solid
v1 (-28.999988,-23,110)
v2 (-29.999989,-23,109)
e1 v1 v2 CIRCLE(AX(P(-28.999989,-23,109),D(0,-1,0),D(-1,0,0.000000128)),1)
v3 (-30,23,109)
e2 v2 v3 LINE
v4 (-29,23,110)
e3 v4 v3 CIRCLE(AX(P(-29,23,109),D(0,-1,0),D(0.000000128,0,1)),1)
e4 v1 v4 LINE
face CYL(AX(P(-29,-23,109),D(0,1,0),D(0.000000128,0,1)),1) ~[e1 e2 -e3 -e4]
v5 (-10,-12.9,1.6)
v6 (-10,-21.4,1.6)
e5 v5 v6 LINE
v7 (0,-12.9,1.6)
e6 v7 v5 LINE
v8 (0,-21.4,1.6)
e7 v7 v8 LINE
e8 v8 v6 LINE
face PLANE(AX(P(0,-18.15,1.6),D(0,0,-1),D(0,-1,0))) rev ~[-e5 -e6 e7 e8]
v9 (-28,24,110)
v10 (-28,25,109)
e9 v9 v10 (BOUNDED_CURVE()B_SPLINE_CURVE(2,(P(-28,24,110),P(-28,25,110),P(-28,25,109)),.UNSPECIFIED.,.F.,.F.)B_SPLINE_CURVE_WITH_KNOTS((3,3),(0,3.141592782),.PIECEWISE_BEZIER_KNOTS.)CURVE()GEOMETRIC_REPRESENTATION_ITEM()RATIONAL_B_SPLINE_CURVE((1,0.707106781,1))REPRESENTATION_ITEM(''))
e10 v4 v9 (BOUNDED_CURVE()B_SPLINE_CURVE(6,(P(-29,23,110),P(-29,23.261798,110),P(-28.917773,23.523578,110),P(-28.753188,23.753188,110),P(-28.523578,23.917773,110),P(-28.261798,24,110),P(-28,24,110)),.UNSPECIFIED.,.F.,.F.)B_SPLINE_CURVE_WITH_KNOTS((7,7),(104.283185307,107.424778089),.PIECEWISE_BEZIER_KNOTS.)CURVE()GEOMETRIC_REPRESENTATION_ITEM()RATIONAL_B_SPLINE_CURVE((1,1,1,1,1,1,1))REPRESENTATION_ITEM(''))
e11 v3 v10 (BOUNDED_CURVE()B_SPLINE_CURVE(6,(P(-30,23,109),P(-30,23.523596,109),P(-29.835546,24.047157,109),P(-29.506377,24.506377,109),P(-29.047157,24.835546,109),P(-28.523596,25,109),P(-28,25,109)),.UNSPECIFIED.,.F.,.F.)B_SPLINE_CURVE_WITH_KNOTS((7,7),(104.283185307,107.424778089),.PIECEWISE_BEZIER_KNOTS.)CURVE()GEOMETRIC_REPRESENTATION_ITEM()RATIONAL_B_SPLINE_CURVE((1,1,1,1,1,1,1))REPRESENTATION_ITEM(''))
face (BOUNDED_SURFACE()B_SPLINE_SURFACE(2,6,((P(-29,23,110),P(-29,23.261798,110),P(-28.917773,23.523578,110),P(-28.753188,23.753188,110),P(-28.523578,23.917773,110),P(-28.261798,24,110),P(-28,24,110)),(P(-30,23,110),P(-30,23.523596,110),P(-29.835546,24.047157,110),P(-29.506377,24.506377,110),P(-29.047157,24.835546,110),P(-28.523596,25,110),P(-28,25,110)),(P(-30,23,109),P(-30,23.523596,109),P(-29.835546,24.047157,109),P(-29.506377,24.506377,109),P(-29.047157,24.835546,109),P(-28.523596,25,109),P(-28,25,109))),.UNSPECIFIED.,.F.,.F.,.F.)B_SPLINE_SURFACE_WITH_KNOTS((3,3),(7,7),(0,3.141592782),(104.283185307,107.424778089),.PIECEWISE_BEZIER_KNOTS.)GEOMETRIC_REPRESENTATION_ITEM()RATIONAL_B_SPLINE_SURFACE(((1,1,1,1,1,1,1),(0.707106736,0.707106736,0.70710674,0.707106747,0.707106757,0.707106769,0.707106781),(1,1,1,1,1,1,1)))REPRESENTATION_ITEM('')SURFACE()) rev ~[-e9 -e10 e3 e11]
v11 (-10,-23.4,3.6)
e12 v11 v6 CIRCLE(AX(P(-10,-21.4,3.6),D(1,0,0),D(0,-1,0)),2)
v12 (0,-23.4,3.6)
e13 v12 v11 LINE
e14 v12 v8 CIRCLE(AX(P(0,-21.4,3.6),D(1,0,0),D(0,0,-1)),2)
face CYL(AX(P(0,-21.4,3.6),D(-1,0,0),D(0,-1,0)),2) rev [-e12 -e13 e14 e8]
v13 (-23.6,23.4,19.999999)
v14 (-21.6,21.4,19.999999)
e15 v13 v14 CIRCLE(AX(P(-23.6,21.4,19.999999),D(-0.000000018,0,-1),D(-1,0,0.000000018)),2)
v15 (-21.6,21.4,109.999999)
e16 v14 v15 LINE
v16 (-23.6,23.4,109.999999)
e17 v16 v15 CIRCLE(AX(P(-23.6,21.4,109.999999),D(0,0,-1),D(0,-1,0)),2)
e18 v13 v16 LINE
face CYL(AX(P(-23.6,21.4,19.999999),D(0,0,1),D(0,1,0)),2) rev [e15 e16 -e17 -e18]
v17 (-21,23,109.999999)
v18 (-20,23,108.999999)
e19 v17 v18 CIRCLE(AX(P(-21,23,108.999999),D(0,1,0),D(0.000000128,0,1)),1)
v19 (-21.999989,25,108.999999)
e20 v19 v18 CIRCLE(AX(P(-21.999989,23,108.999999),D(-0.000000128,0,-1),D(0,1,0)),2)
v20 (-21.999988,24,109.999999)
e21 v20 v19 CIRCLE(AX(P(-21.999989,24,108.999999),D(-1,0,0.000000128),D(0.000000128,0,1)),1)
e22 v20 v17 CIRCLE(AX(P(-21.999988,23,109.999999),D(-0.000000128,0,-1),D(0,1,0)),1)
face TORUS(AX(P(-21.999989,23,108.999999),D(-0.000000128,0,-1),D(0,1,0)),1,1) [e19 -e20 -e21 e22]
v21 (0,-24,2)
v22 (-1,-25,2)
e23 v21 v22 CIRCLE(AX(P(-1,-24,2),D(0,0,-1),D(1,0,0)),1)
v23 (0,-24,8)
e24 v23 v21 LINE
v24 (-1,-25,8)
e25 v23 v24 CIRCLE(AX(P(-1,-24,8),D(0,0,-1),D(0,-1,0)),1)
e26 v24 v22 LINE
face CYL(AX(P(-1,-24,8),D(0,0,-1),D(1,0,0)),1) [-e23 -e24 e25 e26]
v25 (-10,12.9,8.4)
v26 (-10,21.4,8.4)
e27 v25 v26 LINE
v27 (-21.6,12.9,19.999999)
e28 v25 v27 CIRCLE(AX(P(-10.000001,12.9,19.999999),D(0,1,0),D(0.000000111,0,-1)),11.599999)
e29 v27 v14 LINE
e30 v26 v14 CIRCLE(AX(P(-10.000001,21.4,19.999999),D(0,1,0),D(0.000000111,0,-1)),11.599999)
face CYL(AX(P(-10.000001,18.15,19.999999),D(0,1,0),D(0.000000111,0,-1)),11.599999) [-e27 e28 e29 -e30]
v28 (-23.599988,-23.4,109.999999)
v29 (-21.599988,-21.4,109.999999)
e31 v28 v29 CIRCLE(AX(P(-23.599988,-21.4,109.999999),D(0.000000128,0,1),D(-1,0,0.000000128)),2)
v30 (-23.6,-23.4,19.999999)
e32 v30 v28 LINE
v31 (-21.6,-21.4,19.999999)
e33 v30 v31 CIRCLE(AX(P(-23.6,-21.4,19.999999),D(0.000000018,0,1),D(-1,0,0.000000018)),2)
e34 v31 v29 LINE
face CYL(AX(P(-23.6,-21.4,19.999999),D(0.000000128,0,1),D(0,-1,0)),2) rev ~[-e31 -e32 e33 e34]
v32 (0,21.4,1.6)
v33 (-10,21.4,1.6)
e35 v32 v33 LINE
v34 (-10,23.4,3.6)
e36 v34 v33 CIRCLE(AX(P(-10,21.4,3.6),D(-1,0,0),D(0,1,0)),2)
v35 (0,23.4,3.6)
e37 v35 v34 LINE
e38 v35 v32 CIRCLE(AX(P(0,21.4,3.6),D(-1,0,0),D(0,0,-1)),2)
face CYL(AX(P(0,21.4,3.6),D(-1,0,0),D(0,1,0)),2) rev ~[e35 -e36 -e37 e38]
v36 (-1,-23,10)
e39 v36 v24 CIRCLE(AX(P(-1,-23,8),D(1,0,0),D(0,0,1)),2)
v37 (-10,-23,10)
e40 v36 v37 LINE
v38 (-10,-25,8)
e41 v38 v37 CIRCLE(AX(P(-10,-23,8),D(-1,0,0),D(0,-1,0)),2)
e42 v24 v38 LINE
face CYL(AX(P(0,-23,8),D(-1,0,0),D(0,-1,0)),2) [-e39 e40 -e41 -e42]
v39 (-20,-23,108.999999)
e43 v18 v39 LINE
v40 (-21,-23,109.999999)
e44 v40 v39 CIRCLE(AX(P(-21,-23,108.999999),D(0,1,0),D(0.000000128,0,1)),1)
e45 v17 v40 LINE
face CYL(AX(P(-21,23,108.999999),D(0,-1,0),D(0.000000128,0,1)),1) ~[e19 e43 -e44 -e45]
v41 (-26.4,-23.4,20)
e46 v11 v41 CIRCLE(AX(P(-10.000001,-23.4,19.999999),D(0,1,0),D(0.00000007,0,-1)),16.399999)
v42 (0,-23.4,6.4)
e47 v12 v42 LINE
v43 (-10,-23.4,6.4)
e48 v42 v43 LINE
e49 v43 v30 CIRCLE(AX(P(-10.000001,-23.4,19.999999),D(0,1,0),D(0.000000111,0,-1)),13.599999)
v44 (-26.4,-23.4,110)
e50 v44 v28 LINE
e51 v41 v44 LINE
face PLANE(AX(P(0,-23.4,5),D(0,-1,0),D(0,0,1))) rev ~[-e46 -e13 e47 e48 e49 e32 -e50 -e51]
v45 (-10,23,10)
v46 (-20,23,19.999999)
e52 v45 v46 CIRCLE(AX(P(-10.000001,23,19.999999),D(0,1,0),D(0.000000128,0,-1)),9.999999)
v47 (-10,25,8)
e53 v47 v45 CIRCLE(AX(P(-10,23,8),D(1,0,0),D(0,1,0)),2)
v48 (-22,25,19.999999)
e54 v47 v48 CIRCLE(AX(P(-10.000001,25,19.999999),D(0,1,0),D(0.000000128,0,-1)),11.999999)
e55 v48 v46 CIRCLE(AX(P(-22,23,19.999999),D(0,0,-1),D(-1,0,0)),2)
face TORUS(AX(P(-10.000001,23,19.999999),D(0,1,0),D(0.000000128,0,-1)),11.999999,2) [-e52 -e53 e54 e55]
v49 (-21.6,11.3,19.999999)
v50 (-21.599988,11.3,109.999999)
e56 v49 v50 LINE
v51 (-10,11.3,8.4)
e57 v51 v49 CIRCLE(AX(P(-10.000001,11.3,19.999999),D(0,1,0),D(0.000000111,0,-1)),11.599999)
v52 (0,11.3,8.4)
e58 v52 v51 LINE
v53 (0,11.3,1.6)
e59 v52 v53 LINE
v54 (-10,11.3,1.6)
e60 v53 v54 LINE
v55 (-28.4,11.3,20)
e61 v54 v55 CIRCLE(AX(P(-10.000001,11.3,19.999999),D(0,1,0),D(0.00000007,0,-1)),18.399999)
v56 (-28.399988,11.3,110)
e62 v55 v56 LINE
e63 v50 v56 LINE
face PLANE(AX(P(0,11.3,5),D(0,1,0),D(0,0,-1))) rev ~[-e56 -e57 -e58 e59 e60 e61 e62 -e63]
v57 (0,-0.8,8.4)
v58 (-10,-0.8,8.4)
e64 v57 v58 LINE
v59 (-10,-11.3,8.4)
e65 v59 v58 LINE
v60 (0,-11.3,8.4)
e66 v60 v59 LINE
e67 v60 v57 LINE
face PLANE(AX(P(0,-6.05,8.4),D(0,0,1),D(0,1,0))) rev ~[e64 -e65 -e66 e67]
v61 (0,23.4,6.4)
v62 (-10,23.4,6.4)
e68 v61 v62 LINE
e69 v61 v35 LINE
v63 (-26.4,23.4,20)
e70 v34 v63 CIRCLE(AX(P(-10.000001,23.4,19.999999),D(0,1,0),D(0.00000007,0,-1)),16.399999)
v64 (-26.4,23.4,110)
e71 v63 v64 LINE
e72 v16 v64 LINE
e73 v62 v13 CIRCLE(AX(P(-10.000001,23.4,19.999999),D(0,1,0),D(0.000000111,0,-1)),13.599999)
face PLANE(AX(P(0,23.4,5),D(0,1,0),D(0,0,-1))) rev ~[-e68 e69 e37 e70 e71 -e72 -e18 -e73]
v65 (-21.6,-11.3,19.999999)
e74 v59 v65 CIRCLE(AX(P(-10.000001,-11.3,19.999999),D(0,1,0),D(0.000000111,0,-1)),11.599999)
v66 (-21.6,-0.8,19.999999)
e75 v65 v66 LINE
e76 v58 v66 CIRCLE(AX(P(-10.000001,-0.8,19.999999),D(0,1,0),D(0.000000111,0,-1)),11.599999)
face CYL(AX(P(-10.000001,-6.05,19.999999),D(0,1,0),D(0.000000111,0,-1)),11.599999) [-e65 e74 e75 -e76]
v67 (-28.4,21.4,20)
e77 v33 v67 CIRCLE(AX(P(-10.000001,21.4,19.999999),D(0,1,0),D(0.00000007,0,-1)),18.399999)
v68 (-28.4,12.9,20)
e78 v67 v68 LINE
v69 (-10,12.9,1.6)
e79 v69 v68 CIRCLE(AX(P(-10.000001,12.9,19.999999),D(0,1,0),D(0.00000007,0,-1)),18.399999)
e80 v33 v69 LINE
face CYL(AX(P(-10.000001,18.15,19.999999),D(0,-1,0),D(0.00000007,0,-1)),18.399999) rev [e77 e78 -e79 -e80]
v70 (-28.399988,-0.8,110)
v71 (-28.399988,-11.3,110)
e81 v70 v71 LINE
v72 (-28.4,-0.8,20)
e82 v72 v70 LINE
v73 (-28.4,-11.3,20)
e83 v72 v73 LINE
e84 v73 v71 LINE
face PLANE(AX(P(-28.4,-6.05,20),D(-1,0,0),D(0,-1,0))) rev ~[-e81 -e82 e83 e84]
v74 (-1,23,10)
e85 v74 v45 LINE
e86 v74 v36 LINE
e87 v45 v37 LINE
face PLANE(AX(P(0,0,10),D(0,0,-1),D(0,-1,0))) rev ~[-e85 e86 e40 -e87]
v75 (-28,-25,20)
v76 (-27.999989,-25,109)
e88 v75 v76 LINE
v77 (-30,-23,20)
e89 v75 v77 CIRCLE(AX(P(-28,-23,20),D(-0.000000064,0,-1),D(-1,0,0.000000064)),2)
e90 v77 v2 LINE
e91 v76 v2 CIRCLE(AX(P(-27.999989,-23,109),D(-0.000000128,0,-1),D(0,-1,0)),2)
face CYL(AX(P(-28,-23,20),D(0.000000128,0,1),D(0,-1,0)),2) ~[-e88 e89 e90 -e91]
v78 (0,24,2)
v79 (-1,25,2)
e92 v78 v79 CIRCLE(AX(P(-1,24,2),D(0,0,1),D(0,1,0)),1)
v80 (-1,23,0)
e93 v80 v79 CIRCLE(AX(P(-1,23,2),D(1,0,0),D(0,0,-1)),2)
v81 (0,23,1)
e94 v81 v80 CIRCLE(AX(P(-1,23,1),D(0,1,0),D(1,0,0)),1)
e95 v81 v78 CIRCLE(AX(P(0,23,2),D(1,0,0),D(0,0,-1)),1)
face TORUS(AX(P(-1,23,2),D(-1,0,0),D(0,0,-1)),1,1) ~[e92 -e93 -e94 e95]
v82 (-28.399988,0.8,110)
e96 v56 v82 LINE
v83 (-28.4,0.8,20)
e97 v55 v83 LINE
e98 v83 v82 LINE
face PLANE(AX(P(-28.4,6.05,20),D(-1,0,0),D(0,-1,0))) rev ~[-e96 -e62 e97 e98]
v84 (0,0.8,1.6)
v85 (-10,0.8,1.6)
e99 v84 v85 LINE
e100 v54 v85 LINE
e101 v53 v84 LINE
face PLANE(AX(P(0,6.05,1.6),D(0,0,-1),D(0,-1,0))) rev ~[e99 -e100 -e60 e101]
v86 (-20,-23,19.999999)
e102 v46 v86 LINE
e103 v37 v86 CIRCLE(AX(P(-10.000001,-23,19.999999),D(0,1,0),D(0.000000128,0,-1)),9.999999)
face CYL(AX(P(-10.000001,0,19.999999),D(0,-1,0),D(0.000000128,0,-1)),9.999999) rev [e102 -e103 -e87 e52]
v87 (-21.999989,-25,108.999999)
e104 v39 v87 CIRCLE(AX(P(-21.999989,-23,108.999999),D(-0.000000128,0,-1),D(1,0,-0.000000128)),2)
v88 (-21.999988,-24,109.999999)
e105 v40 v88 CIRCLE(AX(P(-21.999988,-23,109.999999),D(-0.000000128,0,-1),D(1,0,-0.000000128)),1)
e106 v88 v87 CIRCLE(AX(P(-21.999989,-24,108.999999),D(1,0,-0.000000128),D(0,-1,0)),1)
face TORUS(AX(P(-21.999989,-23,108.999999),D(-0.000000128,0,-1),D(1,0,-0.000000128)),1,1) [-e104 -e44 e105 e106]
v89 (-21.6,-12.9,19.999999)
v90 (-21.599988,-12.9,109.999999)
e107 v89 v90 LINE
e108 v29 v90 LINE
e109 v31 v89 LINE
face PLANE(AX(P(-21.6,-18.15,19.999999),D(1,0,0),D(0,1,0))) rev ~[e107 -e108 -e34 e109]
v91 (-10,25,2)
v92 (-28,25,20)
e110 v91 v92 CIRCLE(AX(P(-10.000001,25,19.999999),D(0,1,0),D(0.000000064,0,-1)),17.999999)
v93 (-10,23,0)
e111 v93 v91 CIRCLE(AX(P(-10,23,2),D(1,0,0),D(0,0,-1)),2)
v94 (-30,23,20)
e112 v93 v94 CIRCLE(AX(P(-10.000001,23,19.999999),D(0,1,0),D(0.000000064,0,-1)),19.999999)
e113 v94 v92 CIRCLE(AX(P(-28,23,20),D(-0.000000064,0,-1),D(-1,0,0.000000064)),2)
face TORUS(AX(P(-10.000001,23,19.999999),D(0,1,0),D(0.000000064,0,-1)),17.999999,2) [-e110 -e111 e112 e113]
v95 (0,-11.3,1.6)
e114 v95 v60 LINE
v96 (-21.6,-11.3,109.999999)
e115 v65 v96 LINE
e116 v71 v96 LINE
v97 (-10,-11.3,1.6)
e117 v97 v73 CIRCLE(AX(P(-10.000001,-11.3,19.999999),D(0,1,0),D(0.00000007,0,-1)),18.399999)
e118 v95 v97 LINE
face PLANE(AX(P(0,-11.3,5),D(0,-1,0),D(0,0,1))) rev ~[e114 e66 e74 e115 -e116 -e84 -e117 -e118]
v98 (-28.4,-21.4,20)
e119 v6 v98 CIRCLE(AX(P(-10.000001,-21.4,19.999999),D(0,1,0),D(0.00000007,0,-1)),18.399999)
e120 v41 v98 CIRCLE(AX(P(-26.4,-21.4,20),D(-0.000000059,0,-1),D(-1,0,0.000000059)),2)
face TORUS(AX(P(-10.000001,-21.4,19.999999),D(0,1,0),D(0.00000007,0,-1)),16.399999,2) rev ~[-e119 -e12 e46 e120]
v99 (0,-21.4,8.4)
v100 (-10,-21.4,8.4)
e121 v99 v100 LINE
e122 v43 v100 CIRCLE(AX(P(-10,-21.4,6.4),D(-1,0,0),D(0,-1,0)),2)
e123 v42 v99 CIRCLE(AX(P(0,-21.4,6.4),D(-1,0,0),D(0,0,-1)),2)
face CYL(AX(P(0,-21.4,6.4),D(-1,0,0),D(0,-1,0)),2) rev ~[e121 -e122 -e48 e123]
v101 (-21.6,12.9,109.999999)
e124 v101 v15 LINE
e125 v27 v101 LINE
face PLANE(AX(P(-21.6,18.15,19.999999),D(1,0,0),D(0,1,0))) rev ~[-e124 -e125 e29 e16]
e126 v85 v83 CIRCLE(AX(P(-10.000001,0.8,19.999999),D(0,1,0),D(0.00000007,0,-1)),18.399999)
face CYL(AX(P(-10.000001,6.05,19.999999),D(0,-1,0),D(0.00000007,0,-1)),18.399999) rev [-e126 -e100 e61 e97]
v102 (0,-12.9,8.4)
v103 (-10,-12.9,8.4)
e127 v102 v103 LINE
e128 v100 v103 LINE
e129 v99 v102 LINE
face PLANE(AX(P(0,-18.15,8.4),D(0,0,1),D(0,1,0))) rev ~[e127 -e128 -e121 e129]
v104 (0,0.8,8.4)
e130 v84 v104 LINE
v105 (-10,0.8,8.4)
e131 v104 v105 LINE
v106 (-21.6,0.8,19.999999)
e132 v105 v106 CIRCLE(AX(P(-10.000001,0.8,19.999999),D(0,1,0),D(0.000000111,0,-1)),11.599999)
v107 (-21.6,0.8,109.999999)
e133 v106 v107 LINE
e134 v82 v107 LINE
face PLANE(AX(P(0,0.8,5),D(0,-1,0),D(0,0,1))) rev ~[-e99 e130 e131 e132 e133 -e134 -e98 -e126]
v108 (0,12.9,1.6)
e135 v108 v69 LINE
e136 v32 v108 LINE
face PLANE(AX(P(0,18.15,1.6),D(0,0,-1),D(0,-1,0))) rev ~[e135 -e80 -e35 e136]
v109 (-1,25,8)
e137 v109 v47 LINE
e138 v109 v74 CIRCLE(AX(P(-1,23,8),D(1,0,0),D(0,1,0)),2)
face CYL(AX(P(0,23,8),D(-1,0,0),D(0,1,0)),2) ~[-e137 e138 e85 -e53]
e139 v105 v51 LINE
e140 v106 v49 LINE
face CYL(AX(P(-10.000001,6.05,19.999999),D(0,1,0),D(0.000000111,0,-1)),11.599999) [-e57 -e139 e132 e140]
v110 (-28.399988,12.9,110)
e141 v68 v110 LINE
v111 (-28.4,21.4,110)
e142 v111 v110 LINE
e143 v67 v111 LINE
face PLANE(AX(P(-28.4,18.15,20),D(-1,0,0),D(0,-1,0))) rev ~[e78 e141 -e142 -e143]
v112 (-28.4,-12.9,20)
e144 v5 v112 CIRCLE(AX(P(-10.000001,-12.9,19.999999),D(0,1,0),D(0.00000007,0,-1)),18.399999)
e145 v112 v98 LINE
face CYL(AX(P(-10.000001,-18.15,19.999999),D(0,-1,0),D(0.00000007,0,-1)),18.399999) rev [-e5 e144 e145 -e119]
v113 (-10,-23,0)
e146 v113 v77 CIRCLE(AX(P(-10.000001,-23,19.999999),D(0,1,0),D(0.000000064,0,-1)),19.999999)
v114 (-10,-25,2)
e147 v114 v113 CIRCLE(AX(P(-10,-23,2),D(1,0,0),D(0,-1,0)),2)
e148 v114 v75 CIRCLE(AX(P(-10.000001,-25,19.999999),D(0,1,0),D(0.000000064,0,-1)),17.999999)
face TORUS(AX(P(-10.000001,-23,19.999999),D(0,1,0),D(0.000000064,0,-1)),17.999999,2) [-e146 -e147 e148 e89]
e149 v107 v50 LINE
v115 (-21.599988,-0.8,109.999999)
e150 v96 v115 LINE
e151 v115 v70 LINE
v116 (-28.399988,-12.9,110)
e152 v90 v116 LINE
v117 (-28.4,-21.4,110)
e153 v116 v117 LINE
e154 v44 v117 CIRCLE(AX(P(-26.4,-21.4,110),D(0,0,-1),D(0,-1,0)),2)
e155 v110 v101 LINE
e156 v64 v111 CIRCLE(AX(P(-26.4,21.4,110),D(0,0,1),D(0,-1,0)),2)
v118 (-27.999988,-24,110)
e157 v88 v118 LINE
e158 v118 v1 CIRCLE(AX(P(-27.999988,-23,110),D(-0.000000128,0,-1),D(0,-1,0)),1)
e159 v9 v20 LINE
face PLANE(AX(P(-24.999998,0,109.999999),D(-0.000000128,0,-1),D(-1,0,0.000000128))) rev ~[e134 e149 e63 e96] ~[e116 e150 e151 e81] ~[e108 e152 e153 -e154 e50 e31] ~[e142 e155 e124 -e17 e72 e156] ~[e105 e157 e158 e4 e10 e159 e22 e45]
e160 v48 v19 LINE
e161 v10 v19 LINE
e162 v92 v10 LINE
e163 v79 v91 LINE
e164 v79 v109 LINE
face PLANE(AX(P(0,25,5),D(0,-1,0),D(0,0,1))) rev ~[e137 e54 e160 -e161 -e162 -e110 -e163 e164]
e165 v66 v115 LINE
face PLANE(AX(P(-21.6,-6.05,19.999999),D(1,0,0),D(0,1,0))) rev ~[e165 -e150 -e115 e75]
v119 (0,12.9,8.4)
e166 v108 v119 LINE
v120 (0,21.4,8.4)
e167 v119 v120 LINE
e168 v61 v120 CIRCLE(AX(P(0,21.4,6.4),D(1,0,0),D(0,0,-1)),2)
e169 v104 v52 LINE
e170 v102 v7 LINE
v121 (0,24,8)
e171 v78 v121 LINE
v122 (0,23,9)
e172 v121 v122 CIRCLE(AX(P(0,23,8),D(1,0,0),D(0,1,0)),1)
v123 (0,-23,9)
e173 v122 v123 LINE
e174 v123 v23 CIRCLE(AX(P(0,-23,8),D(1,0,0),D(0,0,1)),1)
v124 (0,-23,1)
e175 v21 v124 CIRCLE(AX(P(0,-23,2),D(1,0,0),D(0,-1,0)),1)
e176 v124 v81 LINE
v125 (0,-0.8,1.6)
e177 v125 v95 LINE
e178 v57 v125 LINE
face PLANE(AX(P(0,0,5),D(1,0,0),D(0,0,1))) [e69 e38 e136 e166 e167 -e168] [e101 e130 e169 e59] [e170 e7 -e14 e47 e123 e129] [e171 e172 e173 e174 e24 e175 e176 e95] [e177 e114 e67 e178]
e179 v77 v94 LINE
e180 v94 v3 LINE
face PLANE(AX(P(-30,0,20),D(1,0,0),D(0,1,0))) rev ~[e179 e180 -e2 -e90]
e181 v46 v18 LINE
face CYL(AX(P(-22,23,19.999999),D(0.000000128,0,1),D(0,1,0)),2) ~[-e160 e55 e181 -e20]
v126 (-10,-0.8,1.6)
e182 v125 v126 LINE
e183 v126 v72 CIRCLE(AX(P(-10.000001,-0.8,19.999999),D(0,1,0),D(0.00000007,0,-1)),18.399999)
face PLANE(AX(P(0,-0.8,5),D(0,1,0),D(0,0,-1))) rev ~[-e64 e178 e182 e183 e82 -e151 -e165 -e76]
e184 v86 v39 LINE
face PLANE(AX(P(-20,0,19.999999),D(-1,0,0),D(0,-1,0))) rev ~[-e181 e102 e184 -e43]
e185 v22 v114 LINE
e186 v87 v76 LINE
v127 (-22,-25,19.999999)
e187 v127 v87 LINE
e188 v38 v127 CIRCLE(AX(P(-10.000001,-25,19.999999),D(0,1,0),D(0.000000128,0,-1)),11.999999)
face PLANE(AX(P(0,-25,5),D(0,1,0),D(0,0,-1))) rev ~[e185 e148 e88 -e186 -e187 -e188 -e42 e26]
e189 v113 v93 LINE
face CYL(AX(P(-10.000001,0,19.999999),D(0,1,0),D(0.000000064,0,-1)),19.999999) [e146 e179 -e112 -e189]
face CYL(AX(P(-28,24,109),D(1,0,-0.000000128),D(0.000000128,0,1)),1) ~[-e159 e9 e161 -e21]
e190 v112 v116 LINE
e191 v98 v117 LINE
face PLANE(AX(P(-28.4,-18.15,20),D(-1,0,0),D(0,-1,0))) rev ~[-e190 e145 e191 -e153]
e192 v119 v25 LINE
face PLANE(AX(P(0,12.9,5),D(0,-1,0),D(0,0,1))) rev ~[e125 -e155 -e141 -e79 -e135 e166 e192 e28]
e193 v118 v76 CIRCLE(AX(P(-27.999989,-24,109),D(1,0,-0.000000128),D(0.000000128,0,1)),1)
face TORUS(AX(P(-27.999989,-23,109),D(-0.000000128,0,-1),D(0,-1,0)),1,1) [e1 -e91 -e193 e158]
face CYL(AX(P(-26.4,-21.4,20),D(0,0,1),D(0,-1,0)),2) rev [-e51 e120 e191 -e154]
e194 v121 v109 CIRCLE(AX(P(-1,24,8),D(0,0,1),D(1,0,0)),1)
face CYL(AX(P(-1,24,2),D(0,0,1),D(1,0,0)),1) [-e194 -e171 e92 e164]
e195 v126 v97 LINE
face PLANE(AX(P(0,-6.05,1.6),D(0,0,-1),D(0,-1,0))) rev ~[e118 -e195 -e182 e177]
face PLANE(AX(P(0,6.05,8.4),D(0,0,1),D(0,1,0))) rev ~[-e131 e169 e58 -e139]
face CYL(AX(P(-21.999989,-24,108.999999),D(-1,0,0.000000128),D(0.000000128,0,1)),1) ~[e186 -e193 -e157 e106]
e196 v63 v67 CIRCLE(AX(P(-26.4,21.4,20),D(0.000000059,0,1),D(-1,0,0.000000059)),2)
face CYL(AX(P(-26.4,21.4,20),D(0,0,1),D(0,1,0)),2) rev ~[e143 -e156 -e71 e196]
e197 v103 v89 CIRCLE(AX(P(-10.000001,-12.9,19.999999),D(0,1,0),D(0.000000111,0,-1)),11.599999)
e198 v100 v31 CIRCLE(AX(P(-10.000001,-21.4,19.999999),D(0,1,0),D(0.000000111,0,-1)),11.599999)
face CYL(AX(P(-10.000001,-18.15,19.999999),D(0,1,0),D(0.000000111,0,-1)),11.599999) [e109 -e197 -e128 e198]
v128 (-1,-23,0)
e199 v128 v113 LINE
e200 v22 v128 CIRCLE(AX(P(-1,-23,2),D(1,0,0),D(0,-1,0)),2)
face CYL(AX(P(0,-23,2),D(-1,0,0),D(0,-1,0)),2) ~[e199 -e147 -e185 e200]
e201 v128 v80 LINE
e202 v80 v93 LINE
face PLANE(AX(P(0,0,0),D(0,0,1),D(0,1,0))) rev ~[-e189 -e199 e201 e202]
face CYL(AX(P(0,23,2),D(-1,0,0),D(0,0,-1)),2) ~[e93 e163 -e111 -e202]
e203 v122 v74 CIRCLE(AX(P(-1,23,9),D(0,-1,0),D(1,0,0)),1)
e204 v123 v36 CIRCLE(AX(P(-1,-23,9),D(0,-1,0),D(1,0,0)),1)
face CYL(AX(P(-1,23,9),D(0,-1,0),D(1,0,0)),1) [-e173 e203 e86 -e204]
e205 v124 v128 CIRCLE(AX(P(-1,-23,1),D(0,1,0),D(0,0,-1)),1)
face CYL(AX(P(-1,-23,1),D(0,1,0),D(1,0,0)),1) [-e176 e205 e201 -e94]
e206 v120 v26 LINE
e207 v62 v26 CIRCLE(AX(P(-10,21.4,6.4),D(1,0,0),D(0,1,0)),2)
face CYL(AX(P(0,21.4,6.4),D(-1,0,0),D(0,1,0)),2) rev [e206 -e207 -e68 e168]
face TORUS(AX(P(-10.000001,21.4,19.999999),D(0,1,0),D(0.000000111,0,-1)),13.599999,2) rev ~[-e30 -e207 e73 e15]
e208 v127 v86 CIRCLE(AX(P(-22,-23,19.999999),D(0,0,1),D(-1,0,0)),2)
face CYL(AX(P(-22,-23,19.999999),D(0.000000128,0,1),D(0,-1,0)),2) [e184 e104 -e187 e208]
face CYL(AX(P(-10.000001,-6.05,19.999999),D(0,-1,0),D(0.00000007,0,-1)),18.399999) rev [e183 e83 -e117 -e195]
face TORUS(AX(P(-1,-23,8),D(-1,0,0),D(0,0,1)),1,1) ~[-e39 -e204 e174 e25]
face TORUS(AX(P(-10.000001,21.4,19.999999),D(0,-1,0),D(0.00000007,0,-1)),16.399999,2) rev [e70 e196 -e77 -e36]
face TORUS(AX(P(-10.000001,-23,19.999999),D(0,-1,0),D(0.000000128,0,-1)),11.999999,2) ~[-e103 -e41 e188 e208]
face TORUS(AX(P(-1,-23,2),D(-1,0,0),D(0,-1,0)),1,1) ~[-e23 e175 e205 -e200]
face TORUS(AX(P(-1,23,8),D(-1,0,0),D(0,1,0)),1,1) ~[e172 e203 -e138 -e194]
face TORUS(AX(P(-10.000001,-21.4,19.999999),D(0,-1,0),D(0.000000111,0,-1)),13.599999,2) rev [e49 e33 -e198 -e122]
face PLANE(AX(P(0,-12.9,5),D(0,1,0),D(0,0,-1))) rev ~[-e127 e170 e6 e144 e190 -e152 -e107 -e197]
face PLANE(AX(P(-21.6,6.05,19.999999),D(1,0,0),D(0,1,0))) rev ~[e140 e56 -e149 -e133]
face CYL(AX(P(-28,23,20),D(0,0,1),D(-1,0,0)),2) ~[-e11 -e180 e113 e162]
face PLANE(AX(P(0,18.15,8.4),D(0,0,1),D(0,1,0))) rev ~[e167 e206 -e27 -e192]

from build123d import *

# Parameters (mm, degrees)
SKETCH_W    = 50
SKETCH_H    = 10
SKETCH_W_2  = 10.5
SKETCH_H_2  = 6.8
FILLET_R    = 2
FILLET001_R = 2
FILLET002_R = 2
FILLET003_R = 2
FILLET004_R = 1
FILLET005_R = 1


with BuildPart() as part:
    # AdditivePipe: sweep along a path in Sketch001
    with BuildLine(Plane.XZ) as additivepipe_path:
        Line((0, 0), (-10, 0))
        ThreePointArc((-10, 0), (-24.142136, 5.857864), (-30, 20))
        Line((-30, 20), (-30, 110))
    # Sketch → AdditivePipe (sweep)
    with BuildSketch(Plane.YZ):
        with Locations((0, 5)):
            Rectangle(SKETCH_W, SKETCH_H)
        with Locations((-18.15, 5)):
            Rectangle(SKETCH_W_2, SKETCH_H_2, mode=Mode.SUBTRACT)
        with Locations((-6.05, 5)):
            Rectangle(SKETCH_W_2, SKETCH_H_2, mode=Mode.SUBTRACT)
        with Locations((6.05, 5)):
            Rectangle(SKETCH_W_2, SKETCH_H_2, mode=Mode.SUBTRACT)
        with Locations((18.15, 5)):
            Rectangle(SKETCH_W_2, SKETCH_H_2, mode=Mode.SUBTRACT)
    sweep(path=additivepipe_path.line)

    # Fillet
    fillet_edges = [part.edges().sort_by_distance(p)[0] for p in [
        (-20, -25, 65),
        (-17.071068, -25, 12.928932),
        (-5, -25, 10),
        (-20, 25, 65),
        (-17.071068, 25, 12.928932),
        (-5, 25, 10),
    ]]
    fillet(fillet_edges, radius=FILLET_R)

    # Fillet001
    fillet001_edges = [part.edges().sort_by_distance(p)[0] for p in [
        (-5, 25, 0),
        (-24.142136, 25, 5.857864),
        (-30, 25, 65),
        (-30, -25, 65),
        (-24.142136, -25, 5.857864),
        (-5, -25, 0),
    ]]
    fillet(fillet001_edges, radius=FILLET001_R)

    # Fillet002
    fillet002_edges = [part.edges().sort_by_distance(p)[0] for p in [
        (-28.4, -23.4, 65),
        (-21.6, -23.4, 65),
        (-23.010765, -23.4, 6.989235),
        (-18.202439, -23.4, 11.797561),
        (-5, -23.4, 8.4),
        (-5, -23.4, 1.6),
    ]]
    fillet(fillet002_edges, radius=FILLET002_R)

    # Fillet003
    fillet003_edges = [part.edges().sort_by_distance(p)[0] for p in [
        (-28.4, 23.4, 65),
        (-21.6, 23.4, 65),
        (-23.010765, 23.4, 6.989235),
        (-18.202439, 23.4, 11.797561),
        (-5, 23.4, 8.4),
        (-5, 23.4, 1.6),
    ]]
    fillet(fillet003_edges, radius=FILLET003_R)

    # Fillet004
    fillet004_edges = [part.edges().sort_by_distance(p)[0] for p in [
        (0, 0, 10),
        (0, -24.414214, 9.414214),
        (0, -25, 5),
        (0, -24.414214, 0.585786),
        (0, 0, 0),
        (0, 24.414214, 0.585786),
        (0, 25, 5),
        (0, 24.414214, 9.414214),
    ]]
    fillet(fillet004_edges, radius=FILLET004_R)

    # Fillet005
    fillet005_edges = [part.edges().sort_by_distance(p)[0] for p in [
        (-20, 0, 110),
        (-20.585786, -24.414214, 110),
        (-25, -25, 110),
        (-29.414214, -24.414214, 110),
        (-30, 0, 110),
        (-29.414214, 24.414214, 110),
        (-25, 25, 110),
        (-20.585786, 24.414214, 110),
    ]]
    fillet(fillet005_edges, radius=FILLET005_R)


solid = part.part
